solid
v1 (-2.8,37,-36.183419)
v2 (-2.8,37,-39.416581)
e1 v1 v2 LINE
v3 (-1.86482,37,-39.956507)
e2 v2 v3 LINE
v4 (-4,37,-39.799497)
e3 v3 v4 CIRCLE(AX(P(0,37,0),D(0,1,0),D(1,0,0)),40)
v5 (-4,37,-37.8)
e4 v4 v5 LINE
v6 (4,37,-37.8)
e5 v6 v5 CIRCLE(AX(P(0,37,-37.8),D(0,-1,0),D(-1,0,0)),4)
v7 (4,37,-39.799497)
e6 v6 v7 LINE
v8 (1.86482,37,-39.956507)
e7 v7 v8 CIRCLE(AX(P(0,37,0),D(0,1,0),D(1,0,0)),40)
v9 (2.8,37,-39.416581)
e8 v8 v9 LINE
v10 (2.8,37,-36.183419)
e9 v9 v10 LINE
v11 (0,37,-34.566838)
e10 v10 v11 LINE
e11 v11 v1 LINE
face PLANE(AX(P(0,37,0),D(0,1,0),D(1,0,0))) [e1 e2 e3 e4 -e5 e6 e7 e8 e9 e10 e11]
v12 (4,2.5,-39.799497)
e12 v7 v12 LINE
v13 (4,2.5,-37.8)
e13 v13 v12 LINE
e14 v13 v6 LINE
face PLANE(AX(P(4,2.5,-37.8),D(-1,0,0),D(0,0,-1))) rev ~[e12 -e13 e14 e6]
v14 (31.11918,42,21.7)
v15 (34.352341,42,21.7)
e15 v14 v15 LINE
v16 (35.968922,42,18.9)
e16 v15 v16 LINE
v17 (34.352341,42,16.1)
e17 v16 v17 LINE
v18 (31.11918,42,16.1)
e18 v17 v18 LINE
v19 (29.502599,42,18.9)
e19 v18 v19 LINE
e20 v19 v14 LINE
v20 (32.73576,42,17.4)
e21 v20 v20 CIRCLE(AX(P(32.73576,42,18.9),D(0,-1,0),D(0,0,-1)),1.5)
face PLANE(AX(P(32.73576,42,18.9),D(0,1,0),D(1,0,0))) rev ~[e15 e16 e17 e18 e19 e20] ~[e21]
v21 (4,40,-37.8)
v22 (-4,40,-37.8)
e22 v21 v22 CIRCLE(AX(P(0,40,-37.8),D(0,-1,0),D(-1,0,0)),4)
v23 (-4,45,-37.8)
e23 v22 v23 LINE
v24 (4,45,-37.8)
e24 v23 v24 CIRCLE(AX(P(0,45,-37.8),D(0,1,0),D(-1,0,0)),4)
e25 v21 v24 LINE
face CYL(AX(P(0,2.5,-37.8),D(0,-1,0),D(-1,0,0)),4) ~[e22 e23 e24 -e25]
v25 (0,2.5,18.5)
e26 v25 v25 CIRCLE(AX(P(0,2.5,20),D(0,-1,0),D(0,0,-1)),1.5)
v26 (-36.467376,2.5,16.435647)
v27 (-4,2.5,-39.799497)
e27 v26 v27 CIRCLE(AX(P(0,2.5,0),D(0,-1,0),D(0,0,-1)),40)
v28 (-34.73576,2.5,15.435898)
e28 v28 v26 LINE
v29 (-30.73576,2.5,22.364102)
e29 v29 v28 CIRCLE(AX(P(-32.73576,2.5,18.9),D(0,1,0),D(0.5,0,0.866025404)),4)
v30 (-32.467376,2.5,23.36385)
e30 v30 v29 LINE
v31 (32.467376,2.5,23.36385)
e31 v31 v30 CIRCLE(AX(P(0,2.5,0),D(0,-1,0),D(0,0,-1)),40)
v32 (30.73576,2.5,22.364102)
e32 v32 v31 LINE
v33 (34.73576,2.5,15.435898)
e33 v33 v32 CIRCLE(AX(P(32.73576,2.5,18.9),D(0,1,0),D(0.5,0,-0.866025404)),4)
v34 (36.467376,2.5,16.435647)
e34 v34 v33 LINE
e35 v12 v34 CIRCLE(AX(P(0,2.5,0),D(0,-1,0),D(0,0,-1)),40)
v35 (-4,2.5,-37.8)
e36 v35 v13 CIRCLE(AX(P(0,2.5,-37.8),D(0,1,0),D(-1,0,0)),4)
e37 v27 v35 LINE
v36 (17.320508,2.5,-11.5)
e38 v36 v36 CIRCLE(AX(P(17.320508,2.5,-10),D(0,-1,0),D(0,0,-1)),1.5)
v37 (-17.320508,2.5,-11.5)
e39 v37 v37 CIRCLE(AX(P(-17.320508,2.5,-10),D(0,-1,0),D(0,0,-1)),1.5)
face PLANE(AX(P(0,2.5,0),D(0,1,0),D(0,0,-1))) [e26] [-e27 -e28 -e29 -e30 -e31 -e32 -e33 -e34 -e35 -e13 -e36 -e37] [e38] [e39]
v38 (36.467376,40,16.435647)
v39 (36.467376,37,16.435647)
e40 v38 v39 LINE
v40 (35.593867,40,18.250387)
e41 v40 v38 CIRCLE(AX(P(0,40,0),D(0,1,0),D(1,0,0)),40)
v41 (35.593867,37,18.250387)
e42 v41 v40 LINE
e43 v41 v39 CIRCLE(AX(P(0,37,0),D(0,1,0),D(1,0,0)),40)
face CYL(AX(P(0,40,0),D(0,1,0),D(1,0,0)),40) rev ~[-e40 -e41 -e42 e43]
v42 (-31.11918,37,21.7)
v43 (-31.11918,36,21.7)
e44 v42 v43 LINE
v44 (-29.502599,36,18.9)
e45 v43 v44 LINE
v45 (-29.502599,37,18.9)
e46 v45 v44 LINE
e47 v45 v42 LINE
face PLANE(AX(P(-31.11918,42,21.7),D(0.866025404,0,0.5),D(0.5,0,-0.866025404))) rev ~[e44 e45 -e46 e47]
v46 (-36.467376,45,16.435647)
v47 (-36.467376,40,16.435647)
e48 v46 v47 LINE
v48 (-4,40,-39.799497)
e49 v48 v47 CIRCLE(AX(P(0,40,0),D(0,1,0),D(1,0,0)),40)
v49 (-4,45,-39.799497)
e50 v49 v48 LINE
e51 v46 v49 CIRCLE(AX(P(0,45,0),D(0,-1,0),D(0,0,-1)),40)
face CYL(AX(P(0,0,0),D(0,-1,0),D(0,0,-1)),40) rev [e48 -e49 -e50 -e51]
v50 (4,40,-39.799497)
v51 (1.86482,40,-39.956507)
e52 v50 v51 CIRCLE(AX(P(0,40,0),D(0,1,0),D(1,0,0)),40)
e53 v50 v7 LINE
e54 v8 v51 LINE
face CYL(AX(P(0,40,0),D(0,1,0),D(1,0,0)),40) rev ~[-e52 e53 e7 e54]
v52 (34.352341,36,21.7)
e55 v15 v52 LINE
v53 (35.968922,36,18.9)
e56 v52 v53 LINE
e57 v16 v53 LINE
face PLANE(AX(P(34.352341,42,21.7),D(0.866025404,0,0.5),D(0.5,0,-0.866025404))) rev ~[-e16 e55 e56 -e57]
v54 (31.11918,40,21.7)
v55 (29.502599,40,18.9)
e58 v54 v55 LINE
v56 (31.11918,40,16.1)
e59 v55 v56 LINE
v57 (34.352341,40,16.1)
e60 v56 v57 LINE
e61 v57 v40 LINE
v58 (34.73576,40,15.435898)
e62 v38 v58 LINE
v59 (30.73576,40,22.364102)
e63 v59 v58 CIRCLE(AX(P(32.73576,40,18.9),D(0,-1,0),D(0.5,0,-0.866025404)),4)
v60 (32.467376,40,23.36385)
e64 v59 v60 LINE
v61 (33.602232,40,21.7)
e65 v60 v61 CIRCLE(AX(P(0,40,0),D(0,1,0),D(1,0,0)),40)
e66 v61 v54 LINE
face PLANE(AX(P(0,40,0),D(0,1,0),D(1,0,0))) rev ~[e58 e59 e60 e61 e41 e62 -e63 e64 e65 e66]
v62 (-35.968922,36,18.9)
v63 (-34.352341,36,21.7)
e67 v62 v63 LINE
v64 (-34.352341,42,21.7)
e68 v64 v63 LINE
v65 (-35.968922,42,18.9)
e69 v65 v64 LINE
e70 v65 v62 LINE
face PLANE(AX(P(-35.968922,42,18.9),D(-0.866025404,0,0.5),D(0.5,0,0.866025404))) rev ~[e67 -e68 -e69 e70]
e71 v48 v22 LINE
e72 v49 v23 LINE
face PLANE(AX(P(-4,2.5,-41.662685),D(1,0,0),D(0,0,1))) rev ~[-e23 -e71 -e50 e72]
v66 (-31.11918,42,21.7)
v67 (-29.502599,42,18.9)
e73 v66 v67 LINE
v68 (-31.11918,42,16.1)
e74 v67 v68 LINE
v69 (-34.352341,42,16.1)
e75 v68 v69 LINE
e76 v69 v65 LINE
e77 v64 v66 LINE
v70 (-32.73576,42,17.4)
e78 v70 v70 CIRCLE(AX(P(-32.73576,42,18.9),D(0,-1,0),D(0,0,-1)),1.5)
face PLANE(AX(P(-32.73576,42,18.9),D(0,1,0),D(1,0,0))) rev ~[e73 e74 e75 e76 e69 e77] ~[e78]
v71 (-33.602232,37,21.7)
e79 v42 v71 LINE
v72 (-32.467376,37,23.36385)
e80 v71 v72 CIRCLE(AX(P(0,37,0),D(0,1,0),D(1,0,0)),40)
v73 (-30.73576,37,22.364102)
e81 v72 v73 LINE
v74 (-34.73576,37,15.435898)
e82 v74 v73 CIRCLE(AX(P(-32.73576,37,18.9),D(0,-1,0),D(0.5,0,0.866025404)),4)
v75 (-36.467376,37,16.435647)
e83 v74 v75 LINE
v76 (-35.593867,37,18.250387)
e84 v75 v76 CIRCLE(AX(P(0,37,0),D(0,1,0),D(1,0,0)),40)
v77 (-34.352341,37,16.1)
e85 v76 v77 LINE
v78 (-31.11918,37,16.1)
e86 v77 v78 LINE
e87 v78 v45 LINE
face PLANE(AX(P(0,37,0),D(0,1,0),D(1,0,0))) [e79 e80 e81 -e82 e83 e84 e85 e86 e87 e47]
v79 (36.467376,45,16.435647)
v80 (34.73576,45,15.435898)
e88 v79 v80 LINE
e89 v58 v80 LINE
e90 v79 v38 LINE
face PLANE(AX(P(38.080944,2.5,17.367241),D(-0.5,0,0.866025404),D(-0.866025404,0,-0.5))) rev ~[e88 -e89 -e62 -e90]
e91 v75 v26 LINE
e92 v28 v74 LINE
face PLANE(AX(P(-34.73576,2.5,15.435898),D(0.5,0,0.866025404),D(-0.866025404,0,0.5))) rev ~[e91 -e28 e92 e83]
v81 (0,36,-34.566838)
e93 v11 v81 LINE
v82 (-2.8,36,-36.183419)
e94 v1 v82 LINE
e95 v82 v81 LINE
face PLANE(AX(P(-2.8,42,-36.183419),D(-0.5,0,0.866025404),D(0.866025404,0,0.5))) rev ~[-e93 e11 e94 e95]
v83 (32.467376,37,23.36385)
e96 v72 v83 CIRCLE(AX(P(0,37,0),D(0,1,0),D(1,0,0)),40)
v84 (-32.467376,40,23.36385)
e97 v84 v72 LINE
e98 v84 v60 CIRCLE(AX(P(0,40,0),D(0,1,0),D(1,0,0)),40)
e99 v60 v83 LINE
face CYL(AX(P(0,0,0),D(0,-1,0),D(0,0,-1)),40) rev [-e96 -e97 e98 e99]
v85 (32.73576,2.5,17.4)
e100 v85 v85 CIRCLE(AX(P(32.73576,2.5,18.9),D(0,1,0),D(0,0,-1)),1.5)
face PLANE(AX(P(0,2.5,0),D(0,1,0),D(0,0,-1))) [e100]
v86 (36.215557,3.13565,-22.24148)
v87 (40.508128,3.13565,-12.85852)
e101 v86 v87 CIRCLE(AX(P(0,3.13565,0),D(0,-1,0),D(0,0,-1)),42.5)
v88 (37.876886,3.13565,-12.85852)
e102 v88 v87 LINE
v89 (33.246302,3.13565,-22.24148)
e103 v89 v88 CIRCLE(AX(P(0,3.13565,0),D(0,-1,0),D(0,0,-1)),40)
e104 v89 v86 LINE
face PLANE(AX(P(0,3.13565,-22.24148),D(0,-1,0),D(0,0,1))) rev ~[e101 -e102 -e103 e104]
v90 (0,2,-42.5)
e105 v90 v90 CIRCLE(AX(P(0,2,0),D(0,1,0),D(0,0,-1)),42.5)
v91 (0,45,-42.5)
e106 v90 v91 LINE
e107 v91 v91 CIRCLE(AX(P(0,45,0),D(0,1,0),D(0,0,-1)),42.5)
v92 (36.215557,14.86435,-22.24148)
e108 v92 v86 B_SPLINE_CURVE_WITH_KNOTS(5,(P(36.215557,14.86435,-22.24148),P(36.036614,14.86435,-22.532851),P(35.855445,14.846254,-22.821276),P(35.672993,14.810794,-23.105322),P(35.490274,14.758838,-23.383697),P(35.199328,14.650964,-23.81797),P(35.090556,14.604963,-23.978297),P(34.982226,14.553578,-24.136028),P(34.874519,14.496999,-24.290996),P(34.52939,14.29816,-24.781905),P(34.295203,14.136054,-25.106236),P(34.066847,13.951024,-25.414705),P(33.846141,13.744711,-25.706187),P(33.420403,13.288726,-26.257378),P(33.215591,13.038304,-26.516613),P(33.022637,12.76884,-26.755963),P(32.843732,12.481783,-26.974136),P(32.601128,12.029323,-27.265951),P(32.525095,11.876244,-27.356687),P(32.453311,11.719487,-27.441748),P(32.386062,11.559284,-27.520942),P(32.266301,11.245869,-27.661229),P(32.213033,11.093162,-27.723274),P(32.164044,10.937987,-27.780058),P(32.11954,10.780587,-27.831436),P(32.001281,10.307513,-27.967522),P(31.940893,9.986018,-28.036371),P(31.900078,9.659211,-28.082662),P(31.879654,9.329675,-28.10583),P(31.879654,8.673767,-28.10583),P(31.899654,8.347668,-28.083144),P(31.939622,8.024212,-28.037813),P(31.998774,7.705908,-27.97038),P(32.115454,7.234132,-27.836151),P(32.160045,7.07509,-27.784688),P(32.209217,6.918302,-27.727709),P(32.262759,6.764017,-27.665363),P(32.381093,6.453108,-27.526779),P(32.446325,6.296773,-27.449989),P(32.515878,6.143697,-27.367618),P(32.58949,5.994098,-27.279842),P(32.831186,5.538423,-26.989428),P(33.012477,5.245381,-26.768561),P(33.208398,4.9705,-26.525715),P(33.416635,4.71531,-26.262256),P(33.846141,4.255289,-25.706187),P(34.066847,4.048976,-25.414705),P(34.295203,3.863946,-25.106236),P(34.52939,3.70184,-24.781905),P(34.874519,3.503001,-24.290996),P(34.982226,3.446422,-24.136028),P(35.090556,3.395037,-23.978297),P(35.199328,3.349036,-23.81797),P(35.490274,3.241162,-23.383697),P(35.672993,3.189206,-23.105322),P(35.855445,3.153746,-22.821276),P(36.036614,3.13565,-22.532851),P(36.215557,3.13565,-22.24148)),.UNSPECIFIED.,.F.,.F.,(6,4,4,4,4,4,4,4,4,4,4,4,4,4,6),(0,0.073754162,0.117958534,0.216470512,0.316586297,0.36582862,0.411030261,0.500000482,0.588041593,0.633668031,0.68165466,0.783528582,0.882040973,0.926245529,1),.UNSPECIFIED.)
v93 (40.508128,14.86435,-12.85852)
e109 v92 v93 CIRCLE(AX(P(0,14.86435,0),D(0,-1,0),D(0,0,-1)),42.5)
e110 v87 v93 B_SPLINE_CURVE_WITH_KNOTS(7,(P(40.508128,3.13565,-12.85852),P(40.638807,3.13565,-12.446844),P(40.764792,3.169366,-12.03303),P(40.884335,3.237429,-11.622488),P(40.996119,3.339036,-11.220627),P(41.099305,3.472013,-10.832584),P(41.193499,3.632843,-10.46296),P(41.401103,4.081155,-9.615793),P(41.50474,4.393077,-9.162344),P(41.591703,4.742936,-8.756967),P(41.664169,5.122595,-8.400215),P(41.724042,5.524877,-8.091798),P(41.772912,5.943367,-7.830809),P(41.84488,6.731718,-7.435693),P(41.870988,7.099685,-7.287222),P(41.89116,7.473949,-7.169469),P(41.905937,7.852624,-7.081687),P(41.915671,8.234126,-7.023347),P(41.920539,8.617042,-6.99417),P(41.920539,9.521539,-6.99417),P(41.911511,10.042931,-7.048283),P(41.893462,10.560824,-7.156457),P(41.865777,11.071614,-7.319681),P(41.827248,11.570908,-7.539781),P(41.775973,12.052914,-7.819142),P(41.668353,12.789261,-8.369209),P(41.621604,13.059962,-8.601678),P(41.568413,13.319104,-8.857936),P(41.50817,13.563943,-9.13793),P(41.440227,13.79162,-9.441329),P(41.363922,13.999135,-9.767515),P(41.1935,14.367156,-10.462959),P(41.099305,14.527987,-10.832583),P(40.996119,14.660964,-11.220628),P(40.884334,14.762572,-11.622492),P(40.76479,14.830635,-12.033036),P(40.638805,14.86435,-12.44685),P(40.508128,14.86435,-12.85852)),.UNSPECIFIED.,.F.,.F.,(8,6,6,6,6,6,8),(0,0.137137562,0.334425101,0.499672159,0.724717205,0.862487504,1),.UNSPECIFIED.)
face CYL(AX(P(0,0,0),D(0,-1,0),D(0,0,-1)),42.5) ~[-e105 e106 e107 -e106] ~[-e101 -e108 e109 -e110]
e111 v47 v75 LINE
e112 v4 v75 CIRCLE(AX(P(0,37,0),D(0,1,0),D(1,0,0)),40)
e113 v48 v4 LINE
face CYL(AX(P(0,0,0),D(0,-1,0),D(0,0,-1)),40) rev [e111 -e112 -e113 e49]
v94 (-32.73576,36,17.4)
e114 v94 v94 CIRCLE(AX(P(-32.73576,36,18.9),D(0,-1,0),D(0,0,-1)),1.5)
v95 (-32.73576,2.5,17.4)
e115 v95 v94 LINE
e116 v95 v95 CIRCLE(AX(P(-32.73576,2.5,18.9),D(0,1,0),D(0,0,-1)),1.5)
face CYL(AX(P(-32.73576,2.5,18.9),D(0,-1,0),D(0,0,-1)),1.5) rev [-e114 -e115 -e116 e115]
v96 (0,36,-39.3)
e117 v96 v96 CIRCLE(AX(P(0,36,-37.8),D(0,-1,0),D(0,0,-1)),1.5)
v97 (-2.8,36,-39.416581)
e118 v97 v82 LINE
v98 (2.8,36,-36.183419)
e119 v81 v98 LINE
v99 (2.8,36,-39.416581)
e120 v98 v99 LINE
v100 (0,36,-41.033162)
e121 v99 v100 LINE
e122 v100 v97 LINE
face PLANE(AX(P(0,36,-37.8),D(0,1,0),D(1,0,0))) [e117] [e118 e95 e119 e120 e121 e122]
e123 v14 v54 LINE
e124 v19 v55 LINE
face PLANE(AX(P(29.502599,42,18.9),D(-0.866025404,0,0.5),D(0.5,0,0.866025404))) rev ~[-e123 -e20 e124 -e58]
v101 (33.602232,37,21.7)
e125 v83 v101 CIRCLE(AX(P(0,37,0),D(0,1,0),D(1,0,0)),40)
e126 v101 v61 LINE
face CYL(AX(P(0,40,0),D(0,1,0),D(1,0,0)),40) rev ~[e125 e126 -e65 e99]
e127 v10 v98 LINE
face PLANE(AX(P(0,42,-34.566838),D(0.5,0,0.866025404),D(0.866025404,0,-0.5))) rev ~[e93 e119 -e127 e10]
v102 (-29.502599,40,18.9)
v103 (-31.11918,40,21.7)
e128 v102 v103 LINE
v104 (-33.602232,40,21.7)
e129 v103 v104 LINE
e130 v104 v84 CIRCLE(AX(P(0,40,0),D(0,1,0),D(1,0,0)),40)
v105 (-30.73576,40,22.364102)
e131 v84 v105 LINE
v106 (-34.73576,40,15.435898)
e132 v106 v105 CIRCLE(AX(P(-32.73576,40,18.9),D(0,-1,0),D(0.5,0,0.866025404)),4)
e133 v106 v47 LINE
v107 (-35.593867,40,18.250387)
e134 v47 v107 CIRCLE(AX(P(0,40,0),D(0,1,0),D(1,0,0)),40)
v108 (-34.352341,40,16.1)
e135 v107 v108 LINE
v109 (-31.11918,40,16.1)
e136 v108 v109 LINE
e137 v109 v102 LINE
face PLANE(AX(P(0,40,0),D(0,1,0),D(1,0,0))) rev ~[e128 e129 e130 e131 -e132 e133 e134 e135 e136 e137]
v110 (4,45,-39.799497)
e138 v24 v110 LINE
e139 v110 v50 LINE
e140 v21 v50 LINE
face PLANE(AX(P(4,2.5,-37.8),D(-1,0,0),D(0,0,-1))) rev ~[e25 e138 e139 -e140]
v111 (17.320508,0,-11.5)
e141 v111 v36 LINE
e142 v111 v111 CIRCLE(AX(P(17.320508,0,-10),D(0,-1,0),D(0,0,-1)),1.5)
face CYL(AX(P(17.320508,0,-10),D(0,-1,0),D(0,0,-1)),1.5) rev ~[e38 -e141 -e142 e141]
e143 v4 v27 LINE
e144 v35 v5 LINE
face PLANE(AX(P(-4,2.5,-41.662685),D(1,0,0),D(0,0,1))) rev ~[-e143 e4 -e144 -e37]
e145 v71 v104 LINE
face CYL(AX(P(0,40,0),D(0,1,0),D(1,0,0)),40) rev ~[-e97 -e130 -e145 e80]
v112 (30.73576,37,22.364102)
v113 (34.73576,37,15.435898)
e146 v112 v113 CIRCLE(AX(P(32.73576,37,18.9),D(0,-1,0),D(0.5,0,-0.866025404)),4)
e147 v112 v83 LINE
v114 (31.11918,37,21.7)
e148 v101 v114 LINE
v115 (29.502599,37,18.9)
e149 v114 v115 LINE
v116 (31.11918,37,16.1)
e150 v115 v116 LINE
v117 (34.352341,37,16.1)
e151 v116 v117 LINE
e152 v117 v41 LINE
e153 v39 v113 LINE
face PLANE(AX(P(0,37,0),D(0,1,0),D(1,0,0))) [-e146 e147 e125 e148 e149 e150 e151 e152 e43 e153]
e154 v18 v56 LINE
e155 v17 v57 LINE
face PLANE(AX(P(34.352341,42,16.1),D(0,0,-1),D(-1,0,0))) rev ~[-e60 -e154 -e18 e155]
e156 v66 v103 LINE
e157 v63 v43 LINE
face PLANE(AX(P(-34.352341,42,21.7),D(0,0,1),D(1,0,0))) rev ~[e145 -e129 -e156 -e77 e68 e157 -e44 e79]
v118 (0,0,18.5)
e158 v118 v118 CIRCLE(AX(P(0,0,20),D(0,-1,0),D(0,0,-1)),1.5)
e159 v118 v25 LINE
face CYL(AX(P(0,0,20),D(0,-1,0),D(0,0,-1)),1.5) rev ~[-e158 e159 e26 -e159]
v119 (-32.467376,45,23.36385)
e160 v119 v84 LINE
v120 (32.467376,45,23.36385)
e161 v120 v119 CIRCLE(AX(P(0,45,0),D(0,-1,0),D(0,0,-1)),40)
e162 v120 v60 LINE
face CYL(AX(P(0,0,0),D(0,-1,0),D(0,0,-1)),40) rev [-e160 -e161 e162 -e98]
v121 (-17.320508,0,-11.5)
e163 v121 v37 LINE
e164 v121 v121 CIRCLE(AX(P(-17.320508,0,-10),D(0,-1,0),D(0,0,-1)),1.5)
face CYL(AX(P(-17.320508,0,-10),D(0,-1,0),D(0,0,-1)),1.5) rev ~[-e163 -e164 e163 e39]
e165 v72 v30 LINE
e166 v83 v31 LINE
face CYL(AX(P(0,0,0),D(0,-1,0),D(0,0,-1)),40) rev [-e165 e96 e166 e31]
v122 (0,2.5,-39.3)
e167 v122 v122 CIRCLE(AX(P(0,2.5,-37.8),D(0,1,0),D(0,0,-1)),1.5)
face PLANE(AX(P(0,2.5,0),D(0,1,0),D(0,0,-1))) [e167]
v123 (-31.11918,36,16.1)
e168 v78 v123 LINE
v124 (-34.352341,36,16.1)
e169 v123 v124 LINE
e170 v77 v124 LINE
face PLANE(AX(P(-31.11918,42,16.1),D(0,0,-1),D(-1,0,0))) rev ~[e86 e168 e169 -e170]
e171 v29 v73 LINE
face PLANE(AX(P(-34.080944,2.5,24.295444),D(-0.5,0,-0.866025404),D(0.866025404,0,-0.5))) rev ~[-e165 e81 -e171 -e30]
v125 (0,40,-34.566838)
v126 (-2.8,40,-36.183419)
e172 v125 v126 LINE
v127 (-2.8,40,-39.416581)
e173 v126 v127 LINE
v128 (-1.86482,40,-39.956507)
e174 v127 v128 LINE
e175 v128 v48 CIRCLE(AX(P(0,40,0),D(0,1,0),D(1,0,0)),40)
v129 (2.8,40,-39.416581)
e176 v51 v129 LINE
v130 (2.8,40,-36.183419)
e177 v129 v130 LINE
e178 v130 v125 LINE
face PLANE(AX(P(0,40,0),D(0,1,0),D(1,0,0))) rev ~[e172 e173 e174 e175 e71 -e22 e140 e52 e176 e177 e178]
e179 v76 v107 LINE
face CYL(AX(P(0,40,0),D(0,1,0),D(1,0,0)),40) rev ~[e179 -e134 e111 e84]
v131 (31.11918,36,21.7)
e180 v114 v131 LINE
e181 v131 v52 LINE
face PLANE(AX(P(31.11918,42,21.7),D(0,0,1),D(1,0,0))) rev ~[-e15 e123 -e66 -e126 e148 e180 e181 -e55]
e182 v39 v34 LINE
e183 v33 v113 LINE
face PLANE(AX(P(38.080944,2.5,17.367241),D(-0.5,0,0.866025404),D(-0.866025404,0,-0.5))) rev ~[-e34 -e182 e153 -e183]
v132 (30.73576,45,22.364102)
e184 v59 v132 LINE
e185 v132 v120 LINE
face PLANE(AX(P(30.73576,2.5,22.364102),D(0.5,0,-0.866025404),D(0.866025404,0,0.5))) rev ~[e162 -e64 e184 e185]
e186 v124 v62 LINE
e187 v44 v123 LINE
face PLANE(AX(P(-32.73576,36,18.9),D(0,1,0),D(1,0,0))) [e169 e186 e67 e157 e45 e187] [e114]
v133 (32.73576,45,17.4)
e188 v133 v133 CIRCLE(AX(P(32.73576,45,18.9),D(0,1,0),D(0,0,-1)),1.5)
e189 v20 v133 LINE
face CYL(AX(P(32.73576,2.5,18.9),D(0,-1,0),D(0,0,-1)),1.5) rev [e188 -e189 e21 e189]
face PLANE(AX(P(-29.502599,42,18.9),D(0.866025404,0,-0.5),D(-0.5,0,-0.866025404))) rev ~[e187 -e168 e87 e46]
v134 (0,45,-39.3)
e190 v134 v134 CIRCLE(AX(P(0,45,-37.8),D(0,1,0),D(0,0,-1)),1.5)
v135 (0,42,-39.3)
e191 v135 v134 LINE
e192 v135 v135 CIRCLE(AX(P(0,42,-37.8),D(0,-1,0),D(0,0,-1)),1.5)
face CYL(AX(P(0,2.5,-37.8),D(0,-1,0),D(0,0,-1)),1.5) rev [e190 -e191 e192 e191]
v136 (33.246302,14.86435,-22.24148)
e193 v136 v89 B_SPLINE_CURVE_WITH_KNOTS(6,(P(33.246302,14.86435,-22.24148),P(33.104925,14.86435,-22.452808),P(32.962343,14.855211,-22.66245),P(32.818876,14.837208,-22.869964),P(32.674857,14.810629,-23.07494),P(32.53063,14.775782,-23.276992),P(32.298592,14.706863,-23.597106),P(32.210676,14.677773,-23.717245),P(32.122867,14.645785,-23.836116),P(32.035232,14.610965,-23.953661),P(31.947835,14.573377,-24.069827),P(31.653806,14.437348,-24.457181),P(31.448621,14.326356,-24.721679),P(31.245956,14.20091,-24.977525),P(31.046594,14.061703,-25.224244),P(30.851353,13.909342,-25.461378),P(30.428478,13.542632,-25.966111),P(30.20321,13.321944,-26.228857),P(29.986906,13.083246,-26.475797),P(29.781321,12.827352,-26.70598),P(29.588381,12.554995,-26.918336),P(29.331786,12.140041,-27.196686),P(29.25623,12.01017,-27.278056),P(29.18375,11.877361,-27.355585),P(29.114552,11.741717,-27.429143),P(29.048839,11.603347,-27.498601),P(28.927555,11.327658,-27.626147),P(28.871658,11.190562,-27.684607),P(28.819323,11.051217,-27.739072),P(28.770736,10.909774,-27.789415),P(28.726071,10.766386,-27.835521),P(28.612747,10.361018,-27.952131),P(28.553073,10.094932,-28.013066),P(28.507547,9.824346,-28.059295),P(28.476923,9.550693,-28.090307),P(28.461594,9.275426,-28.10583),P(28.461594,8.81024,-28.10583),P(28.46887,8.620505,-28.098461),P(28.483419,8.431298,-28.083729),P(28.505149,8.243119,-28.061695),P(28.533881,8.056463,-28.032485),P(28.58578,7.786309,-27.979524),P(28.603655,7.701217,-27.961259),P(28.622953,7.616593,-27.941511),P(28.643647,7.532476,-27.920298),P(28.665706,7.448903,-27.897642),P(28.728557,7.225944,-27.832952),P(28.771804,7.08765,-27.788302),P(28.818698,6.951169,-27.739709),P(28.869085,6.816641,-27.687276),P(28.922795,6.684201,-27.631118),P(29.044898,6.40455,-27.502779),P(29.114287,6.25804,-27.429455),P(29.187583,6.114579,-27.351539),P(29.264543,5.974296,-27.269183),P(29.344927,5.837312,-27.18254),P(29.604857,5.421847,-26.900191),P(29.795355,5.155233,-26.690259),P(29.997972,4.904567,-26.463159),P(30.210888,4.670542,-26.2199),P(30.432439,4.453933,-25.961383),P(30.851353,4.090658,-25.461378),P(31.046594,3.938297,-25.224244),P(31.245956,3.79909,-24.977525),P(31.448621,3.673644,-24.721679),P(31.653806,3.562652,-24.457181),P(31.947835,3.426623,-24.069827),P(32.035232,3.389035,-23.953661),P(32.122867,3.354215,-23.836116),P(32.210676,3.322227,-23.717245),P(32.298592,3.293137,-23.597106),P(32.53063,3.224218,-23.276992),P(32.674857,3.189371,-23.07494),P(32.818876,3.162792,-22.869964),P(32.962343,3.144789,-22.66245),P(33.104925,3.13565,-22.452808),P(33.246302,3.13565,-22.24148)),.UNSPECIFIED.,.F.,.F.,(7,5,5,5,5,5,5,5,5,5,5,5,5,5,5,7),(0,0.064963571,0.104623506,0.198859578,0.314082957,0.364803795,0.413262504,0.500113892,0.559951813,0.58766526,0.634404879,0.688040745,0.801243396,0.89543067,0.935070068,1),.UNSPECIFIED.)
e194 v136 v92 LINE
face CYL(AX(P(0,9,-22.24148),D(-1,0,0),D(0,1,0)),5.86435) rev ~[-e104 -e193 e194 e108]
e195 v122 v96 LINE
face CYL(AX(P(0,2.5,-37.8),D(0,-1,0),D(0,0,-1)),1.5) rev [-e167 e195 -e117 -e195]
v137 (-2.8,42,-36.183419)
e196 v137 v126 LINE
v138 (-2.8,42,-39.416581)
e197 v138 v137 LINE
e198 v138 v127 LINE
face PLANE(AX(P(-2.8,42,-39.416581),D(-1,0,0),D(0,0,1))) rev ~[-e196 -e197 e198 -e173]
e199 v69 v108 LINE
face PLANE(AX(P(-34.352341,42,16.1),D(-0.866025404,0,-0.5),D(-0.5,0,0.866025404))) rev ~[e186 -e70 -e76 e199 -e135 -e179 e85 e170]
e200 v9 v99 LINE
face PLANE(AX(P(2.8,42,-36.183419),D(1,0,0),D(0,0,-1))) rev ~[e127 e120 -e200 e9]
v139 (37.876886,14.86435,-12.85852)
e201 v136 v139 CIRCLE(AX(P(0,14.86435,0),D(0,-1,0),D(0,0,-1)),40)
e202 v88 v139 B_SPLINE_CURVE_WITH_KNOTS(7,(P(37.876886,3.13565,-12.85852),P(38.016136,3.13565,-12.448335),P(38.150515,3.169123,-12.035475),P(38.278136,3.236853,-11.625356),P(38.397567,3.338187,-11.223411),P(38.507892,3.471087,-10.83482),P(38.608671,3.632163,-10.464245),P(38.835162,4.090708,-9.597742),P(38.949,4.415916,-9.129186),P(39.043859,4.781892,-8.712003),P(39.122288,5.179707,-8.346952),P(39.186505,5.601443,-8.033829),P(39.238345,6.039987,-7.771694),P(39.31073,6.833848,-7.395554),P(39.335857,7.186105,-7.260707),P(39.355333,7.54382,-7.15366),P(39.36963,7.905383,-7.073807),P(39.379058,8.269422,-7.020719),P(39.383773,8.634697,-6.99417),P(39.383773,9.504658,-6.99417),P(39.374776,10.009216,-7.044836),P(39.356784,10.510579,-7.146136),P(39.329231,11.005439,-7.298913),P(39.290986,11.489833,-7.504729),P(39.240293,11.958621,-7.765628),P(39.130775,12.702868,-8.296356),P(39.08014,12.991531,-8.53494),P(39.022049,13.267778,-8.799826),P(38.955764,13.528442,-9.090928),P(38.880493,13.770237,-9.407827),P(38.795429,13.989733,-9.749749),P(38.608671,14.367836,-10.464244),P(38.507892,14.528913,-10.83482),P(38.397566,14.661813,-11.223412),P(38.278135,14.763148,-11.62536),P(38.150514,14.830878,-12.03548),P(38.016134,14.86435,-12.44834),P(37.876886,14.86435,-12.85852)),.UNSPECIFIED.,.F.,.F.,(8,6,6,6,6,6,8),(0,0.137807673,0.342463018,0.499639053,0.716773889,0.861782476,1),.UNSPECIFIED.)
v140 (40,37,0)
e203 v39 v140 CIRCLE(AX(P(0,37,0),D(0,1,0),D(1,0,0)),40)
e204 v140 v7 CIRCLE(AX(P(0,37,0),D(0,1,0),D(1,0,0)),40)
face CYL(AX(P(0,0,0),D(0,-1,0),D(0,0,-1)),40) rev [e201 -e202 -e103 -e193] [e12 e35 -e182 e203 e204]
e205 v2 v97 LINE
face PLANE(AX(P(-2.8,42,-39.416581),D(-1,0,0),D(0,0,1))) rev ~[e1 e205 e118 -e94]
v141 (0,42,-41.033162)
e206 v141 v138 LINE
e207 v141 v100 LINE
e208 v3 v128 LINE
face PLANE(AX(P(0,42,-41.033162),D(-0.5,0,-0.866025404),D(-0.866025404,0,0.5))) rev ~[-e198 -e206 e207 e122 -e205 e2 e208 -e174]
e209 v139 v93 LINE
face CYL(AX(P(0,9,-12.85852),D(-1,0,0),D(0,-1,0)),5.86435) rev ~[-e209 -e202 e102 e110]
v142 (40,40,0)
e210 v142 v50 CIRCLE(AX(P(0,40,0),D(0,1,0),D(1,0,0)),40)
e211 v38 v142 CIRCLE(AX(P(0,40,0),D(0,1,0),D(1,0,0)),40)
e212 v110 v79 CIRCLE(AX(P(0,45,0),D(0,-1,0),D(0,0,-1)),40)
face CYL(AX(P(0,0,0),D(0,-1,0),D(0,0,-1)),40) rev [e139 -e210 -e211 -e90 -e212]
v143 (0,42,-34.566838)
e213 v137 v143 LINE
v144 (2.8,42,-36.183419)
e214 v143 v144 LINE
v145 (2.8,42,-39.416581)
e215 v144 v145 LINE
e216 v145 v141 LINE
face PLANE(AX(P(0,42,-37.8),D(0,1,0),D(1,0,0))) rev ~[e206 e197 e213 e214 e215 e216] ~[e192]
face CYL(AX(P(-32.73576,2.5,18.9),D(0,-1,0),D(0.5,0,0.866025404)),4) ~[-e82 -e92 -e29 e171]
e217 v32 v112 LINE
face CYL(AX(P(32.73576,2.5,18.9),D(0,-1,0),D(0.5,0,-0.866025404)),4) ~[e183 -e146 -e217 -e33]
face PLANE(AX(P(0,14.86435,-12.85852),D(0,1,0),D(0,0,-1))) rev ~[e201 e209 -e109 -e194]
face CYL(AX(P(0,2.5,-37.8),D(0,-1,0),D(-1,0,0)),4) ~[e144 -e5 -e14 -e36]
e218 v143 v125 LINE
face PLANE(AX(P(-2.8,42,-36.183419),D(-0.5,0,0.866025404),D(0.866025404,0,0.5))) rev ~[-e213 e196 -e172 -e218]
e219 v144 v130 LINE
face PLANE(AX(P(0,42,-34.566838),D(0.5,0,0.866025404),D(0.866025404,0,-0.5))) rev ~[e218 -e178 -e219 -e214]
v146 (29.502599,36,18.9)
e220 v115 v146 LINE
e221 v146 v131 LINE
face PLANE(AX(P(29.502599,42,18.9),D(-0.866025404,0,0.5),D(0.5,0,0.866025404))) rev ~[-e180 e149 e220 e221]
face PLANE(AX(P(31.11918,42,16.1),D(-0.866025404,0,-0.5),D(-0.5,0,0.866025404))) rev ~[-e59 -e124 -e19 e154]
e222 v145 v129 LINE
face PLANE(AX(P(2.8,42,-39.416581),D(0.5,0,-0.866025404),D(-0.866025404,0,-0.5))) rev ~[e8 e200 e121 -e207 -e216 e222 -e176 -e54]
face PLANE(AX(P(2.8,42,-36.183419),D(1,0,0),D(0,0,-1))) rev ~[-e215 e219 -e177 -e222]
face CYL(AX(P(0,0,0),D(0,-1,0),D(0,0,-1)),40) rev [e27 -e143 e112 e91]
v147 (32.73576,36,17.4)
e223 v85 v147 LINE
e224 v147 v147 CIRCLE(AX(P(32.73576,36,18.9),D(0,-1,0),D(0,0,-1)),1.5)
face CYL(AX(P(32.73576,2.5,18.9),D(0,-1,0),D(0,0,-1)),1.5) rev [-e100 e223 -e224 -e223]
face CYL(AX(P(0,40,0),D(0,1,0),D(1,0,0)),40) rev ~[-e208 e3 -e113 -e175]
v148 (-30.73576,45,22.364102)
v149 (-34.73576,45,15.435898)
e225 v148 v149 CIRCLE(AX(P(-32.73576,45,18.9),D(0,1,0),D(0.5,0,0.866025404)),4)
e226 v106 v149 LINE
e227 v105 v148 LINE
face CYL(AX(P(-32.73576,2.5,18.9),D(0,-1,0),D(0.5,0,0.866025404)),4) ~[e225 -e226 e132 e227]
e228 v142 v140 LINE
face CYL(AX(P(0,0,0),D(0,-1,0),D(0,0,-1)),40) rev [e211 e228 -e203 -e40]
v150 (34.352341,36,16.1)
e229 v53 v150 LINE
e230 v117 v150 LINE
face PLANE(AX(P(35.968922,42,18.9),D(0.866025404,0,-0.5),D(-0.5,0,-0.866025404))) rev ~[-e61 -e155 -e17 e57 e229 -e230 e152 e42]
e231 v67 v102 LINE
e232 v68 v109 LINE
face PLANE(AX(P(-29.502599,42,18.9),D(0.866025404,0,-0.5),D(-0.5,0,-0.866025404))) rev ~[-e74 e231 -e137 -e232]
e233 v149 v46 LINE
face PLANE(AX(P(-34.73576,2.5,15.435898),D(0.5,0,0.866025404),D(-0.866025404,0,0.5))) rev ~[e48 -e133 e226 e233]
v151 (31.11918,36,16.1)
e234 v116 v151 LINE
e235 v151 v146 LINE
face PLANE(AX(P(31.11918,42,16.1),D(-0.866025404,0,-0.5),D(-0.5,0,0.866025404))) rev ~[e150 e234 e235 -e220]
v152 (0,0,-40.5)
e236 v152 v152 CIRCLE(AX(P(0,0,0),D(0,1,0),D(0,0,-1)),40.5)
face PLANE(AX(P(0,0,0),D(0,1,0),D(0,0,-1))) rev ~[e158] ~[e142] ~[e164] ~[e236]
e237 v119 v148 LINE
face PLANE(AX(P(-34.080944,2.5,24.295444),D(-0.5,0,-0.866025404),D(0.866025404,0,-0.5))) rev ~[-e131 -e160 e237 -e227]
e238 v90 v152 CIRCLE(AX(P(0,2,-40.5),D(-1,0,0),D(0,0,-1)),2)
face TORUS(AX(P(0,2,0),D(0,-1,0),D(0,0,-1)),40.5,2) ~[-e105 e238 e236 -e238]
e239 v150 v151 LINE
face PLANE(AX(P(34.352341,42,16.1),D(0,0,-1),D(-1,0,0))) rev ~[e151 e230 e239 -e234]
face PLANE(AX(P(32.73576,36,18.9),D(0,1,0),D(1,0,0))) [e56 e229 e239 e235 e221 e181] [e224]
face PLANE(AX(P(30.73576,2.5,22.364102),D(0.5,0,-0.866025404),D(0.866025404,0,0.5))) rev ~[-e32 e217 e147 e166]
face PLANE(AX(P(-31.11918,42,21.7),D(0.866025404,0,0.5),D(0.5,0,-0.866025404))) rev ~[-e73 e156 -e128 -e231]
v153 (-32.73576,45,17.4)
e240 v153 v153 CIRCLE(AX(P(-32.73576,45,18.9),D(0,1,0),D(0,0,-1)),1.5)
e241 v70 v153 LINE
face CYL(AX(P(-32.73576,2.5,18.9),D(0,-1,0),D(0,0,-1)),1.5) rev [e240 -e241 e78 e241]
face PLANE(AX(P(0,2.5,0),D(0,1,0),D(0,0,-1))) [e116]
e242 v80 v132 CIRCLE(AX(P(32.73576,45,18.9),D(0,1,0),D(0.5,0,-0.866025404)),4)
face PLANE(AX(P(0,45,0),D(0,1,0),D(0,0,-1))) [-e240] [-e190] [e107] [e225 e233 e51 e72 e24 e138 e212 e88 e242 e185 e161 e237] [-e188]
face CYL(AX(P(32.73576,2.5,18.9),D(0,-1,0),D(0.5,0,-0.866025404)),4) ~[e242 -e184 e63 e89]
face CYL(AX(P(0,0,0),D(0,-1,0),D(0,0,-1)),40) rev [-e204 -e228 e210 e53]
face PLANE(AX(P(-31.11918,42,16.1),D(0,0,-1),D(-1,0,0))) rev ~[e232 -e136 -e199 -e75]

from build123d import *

# Parameters (mm, degrees)
SKETCH1_R           = 42.5
BOSS_EXTRUDE1_DEPTH = 45
FILLET1_R           = 2
SHELL1_T            = -2.5
SKETCH2_R           = 1.5
BOSS_EXTRUDE2_DEPTH = 42.5
CUT_EXTRUDE1_START  = -3
CUT_EXTRUDE1_DEPTH  = 6
CUT_EXTRUDE2_START  = -5
SKETCH4_R           = 40
CUT_EXTRUDE2_DEPTH  = 3
CUT_EXTRUDE3_DEPTH  = 120
SKETCH7_R           = 1.5
CUT_EXTRUDE4_DEPTH  = 10


with BuildPart() as part:
    # Sketch1 → Boss-Extrude1 (new body)
    with BuildSketch(Plane(origin=(0, 0, 0), x_dir=(1, 0, 0), z_dir=(0, 1, 0))):
        with Locations(Location((0, 0, 0), (0, 0, 90))):
            Circle(SKETCH1_R)
    extrude(amount=BOSS_EXTRUDE1_DEPTH)

    # Fillet1
    fillet1_edges = [part.edges().sort_by_distance(p)[0] for p in [
        (0, 0, 42.5),
    ]]
    fillet(fillet1_edges, radius=FILLET1_R)

    # Shell1
    shell1_openings = [part.faces().sort_by_distance(p)[0] for p in [
        (0, 45, 0),
    ]]
    offset(amount=SHELL1_T, openings=shell1_openings, kind=Kind.INTERSECTION)

    # Sketch2 → Boss-Extrude2 (add)
    with BuildSketch(Plane(origin=(0, 2.5, 0), x_dir=(1, 0, 0), z_dir=(0, 1, 0))):
        with BuildLine():
            Line((-34.080943597, -24.295444113), (-30.735760263, -22.364101615))
            ThreePointArc((-30.735760263, -22.364101615), (-29.271658648, -16.9), (-34.735760263, -15.435898385))
            Line((-34.735760263, -15.435898385), (-38.080943597, -17.367240883))
            Line((-38.080943597, -17.367240883), (-34.080943597, -24.295444113))
        make_face()
        with Locations(Location((-32.735760263, -18.9, 0), (0, 0, 90))):
            Circle(SKETCH2_R, mode=Mode.SUBTRACT)
        with BuildLine():
            Line((38.080943597, -17.367240883), (34.735760263, -15.435898385))
            ThreePointArc((34.735760263, -15.435898385), (29.271658648, -16.9), (30.735760263, -22.364101615))
            Line((30.735760263, -22.364101615), (34.080943597, -24.295444113))
            Line((34.080943597, -24.295444113), (38.080943597, -17.367240883))
        make_face()
        with Locations(Location((32.735760263, -18.9, 0), (0, 0, 90))):
            Circle(SKETCH2_R, mode=Mode.SUBTRACT)
        with BuildLine():
            Line((-4, 41.662684996), (-4, 37.8))
            ThreePointArc((-4, 37.8), (0, 33.8), (4, 37.8))
            Line((4, 37.8), (4, 41.662684996))
            Line((4, 41.662684996), (-4, 41.662684996))
        make_face()
        with Locations(Location((0, 37.8, 0), (0, 0, 90))):
            Circle(SKETCH2_R, mode=Mode.SUBTRACT)
    extrude(amount=BOSS_EXTRUDE2_DEPTH)

    # Sketch3 → Cut-Extrude1 (cut)
    with BuildSketch(Plane(origin=(0, 45, 0), x_dir=(1, 0, 0), z_dir=(0, 1, 0)).offset(CUT_EXTRUDE1_START)):
        Polygon((-31.119179509, -16.1), (-34.352341017, -16.1), (-35.968921771, -18.9), (-34.352341017, -21.7), (-31.119179509, -21.7), (-29.502598756, -18.9), align=None)
        Polygon((0, 41.033161507), (-2.8, 39.416580754), (-2.8, 36.183419246), (0, 34.566838493), (2.8, 36.183419246), (2.8, 39.416580754), align=None)
        Polygon((34.352341017, -16.1), (31.119179509, -16.1), (29.502598756, -18.9), (31.119179509, -21.7), (34.352341017, -21.7), (35.968921771, -18.9), align=None)
    extrude(amount=-CUT_EXTRUDE1_DEPTH, mode=Mode.SUBTRACT)

    # Sketch4 → Cut-Extrude2 (cut)
    with BuildSketch(Plane(origin=(0, 45, 0), x_dir=(1, 0, 0), z_dir=(0, 1, 0)).offset(CUT_EXTRUDE2_START)):
        Circle(SKETCH4_R)
    extrude(amount=-CUT_EXTRUDE2_DEPTH, mode=Mode.SUBTRACT)

    # Sketch6 → Cut-Extrude3 (cut)
    with BuildSketch(Plane(origin=(0, 0, 0), x_dir=(0, 0, -1), z_dir=(1, 0, 0))):
        with BuildLine():
            Line((12.858520148, 14.864349815), (22.241479852, 14.864349815))
            ThreePointArc((22.241479852, 14.864349815), (28.105829667, 9), (22.241479852, 3.135650185))
            Line((22.241479852, 3.135650185), (12.858520148, 3.135650185))
            ThreePointArc((12.858520148, 3.135650185), (6.994170333, 9), (12.858520148, 14.864349815))
        make_face()
    extrude(amount=CUT_EXTRUDE3_DEPTH, mode=Mode.SUBTRACT)

    # Sketch7 → Cut-Extrude4 (cut)
    with BuildSketch(Plane.XZ):
        with Locations(Location((17.320508076, -10, 0), (0, 0, 270))):
            Circle(SKETCH7_R)
        with Locations(Location((0, 20, 0), (0, 0, 270))):
            Circle(SKETCH7_R)
        with Locations(Location((-17.320508076, -10, 0), (0, 0, 270))):
            Circle(SKETCH7_R)
    extrude(amount=-CUT_EXTRUDE4_DEPTH, mode=Mode.SUBTRACT)


solid = part.part
